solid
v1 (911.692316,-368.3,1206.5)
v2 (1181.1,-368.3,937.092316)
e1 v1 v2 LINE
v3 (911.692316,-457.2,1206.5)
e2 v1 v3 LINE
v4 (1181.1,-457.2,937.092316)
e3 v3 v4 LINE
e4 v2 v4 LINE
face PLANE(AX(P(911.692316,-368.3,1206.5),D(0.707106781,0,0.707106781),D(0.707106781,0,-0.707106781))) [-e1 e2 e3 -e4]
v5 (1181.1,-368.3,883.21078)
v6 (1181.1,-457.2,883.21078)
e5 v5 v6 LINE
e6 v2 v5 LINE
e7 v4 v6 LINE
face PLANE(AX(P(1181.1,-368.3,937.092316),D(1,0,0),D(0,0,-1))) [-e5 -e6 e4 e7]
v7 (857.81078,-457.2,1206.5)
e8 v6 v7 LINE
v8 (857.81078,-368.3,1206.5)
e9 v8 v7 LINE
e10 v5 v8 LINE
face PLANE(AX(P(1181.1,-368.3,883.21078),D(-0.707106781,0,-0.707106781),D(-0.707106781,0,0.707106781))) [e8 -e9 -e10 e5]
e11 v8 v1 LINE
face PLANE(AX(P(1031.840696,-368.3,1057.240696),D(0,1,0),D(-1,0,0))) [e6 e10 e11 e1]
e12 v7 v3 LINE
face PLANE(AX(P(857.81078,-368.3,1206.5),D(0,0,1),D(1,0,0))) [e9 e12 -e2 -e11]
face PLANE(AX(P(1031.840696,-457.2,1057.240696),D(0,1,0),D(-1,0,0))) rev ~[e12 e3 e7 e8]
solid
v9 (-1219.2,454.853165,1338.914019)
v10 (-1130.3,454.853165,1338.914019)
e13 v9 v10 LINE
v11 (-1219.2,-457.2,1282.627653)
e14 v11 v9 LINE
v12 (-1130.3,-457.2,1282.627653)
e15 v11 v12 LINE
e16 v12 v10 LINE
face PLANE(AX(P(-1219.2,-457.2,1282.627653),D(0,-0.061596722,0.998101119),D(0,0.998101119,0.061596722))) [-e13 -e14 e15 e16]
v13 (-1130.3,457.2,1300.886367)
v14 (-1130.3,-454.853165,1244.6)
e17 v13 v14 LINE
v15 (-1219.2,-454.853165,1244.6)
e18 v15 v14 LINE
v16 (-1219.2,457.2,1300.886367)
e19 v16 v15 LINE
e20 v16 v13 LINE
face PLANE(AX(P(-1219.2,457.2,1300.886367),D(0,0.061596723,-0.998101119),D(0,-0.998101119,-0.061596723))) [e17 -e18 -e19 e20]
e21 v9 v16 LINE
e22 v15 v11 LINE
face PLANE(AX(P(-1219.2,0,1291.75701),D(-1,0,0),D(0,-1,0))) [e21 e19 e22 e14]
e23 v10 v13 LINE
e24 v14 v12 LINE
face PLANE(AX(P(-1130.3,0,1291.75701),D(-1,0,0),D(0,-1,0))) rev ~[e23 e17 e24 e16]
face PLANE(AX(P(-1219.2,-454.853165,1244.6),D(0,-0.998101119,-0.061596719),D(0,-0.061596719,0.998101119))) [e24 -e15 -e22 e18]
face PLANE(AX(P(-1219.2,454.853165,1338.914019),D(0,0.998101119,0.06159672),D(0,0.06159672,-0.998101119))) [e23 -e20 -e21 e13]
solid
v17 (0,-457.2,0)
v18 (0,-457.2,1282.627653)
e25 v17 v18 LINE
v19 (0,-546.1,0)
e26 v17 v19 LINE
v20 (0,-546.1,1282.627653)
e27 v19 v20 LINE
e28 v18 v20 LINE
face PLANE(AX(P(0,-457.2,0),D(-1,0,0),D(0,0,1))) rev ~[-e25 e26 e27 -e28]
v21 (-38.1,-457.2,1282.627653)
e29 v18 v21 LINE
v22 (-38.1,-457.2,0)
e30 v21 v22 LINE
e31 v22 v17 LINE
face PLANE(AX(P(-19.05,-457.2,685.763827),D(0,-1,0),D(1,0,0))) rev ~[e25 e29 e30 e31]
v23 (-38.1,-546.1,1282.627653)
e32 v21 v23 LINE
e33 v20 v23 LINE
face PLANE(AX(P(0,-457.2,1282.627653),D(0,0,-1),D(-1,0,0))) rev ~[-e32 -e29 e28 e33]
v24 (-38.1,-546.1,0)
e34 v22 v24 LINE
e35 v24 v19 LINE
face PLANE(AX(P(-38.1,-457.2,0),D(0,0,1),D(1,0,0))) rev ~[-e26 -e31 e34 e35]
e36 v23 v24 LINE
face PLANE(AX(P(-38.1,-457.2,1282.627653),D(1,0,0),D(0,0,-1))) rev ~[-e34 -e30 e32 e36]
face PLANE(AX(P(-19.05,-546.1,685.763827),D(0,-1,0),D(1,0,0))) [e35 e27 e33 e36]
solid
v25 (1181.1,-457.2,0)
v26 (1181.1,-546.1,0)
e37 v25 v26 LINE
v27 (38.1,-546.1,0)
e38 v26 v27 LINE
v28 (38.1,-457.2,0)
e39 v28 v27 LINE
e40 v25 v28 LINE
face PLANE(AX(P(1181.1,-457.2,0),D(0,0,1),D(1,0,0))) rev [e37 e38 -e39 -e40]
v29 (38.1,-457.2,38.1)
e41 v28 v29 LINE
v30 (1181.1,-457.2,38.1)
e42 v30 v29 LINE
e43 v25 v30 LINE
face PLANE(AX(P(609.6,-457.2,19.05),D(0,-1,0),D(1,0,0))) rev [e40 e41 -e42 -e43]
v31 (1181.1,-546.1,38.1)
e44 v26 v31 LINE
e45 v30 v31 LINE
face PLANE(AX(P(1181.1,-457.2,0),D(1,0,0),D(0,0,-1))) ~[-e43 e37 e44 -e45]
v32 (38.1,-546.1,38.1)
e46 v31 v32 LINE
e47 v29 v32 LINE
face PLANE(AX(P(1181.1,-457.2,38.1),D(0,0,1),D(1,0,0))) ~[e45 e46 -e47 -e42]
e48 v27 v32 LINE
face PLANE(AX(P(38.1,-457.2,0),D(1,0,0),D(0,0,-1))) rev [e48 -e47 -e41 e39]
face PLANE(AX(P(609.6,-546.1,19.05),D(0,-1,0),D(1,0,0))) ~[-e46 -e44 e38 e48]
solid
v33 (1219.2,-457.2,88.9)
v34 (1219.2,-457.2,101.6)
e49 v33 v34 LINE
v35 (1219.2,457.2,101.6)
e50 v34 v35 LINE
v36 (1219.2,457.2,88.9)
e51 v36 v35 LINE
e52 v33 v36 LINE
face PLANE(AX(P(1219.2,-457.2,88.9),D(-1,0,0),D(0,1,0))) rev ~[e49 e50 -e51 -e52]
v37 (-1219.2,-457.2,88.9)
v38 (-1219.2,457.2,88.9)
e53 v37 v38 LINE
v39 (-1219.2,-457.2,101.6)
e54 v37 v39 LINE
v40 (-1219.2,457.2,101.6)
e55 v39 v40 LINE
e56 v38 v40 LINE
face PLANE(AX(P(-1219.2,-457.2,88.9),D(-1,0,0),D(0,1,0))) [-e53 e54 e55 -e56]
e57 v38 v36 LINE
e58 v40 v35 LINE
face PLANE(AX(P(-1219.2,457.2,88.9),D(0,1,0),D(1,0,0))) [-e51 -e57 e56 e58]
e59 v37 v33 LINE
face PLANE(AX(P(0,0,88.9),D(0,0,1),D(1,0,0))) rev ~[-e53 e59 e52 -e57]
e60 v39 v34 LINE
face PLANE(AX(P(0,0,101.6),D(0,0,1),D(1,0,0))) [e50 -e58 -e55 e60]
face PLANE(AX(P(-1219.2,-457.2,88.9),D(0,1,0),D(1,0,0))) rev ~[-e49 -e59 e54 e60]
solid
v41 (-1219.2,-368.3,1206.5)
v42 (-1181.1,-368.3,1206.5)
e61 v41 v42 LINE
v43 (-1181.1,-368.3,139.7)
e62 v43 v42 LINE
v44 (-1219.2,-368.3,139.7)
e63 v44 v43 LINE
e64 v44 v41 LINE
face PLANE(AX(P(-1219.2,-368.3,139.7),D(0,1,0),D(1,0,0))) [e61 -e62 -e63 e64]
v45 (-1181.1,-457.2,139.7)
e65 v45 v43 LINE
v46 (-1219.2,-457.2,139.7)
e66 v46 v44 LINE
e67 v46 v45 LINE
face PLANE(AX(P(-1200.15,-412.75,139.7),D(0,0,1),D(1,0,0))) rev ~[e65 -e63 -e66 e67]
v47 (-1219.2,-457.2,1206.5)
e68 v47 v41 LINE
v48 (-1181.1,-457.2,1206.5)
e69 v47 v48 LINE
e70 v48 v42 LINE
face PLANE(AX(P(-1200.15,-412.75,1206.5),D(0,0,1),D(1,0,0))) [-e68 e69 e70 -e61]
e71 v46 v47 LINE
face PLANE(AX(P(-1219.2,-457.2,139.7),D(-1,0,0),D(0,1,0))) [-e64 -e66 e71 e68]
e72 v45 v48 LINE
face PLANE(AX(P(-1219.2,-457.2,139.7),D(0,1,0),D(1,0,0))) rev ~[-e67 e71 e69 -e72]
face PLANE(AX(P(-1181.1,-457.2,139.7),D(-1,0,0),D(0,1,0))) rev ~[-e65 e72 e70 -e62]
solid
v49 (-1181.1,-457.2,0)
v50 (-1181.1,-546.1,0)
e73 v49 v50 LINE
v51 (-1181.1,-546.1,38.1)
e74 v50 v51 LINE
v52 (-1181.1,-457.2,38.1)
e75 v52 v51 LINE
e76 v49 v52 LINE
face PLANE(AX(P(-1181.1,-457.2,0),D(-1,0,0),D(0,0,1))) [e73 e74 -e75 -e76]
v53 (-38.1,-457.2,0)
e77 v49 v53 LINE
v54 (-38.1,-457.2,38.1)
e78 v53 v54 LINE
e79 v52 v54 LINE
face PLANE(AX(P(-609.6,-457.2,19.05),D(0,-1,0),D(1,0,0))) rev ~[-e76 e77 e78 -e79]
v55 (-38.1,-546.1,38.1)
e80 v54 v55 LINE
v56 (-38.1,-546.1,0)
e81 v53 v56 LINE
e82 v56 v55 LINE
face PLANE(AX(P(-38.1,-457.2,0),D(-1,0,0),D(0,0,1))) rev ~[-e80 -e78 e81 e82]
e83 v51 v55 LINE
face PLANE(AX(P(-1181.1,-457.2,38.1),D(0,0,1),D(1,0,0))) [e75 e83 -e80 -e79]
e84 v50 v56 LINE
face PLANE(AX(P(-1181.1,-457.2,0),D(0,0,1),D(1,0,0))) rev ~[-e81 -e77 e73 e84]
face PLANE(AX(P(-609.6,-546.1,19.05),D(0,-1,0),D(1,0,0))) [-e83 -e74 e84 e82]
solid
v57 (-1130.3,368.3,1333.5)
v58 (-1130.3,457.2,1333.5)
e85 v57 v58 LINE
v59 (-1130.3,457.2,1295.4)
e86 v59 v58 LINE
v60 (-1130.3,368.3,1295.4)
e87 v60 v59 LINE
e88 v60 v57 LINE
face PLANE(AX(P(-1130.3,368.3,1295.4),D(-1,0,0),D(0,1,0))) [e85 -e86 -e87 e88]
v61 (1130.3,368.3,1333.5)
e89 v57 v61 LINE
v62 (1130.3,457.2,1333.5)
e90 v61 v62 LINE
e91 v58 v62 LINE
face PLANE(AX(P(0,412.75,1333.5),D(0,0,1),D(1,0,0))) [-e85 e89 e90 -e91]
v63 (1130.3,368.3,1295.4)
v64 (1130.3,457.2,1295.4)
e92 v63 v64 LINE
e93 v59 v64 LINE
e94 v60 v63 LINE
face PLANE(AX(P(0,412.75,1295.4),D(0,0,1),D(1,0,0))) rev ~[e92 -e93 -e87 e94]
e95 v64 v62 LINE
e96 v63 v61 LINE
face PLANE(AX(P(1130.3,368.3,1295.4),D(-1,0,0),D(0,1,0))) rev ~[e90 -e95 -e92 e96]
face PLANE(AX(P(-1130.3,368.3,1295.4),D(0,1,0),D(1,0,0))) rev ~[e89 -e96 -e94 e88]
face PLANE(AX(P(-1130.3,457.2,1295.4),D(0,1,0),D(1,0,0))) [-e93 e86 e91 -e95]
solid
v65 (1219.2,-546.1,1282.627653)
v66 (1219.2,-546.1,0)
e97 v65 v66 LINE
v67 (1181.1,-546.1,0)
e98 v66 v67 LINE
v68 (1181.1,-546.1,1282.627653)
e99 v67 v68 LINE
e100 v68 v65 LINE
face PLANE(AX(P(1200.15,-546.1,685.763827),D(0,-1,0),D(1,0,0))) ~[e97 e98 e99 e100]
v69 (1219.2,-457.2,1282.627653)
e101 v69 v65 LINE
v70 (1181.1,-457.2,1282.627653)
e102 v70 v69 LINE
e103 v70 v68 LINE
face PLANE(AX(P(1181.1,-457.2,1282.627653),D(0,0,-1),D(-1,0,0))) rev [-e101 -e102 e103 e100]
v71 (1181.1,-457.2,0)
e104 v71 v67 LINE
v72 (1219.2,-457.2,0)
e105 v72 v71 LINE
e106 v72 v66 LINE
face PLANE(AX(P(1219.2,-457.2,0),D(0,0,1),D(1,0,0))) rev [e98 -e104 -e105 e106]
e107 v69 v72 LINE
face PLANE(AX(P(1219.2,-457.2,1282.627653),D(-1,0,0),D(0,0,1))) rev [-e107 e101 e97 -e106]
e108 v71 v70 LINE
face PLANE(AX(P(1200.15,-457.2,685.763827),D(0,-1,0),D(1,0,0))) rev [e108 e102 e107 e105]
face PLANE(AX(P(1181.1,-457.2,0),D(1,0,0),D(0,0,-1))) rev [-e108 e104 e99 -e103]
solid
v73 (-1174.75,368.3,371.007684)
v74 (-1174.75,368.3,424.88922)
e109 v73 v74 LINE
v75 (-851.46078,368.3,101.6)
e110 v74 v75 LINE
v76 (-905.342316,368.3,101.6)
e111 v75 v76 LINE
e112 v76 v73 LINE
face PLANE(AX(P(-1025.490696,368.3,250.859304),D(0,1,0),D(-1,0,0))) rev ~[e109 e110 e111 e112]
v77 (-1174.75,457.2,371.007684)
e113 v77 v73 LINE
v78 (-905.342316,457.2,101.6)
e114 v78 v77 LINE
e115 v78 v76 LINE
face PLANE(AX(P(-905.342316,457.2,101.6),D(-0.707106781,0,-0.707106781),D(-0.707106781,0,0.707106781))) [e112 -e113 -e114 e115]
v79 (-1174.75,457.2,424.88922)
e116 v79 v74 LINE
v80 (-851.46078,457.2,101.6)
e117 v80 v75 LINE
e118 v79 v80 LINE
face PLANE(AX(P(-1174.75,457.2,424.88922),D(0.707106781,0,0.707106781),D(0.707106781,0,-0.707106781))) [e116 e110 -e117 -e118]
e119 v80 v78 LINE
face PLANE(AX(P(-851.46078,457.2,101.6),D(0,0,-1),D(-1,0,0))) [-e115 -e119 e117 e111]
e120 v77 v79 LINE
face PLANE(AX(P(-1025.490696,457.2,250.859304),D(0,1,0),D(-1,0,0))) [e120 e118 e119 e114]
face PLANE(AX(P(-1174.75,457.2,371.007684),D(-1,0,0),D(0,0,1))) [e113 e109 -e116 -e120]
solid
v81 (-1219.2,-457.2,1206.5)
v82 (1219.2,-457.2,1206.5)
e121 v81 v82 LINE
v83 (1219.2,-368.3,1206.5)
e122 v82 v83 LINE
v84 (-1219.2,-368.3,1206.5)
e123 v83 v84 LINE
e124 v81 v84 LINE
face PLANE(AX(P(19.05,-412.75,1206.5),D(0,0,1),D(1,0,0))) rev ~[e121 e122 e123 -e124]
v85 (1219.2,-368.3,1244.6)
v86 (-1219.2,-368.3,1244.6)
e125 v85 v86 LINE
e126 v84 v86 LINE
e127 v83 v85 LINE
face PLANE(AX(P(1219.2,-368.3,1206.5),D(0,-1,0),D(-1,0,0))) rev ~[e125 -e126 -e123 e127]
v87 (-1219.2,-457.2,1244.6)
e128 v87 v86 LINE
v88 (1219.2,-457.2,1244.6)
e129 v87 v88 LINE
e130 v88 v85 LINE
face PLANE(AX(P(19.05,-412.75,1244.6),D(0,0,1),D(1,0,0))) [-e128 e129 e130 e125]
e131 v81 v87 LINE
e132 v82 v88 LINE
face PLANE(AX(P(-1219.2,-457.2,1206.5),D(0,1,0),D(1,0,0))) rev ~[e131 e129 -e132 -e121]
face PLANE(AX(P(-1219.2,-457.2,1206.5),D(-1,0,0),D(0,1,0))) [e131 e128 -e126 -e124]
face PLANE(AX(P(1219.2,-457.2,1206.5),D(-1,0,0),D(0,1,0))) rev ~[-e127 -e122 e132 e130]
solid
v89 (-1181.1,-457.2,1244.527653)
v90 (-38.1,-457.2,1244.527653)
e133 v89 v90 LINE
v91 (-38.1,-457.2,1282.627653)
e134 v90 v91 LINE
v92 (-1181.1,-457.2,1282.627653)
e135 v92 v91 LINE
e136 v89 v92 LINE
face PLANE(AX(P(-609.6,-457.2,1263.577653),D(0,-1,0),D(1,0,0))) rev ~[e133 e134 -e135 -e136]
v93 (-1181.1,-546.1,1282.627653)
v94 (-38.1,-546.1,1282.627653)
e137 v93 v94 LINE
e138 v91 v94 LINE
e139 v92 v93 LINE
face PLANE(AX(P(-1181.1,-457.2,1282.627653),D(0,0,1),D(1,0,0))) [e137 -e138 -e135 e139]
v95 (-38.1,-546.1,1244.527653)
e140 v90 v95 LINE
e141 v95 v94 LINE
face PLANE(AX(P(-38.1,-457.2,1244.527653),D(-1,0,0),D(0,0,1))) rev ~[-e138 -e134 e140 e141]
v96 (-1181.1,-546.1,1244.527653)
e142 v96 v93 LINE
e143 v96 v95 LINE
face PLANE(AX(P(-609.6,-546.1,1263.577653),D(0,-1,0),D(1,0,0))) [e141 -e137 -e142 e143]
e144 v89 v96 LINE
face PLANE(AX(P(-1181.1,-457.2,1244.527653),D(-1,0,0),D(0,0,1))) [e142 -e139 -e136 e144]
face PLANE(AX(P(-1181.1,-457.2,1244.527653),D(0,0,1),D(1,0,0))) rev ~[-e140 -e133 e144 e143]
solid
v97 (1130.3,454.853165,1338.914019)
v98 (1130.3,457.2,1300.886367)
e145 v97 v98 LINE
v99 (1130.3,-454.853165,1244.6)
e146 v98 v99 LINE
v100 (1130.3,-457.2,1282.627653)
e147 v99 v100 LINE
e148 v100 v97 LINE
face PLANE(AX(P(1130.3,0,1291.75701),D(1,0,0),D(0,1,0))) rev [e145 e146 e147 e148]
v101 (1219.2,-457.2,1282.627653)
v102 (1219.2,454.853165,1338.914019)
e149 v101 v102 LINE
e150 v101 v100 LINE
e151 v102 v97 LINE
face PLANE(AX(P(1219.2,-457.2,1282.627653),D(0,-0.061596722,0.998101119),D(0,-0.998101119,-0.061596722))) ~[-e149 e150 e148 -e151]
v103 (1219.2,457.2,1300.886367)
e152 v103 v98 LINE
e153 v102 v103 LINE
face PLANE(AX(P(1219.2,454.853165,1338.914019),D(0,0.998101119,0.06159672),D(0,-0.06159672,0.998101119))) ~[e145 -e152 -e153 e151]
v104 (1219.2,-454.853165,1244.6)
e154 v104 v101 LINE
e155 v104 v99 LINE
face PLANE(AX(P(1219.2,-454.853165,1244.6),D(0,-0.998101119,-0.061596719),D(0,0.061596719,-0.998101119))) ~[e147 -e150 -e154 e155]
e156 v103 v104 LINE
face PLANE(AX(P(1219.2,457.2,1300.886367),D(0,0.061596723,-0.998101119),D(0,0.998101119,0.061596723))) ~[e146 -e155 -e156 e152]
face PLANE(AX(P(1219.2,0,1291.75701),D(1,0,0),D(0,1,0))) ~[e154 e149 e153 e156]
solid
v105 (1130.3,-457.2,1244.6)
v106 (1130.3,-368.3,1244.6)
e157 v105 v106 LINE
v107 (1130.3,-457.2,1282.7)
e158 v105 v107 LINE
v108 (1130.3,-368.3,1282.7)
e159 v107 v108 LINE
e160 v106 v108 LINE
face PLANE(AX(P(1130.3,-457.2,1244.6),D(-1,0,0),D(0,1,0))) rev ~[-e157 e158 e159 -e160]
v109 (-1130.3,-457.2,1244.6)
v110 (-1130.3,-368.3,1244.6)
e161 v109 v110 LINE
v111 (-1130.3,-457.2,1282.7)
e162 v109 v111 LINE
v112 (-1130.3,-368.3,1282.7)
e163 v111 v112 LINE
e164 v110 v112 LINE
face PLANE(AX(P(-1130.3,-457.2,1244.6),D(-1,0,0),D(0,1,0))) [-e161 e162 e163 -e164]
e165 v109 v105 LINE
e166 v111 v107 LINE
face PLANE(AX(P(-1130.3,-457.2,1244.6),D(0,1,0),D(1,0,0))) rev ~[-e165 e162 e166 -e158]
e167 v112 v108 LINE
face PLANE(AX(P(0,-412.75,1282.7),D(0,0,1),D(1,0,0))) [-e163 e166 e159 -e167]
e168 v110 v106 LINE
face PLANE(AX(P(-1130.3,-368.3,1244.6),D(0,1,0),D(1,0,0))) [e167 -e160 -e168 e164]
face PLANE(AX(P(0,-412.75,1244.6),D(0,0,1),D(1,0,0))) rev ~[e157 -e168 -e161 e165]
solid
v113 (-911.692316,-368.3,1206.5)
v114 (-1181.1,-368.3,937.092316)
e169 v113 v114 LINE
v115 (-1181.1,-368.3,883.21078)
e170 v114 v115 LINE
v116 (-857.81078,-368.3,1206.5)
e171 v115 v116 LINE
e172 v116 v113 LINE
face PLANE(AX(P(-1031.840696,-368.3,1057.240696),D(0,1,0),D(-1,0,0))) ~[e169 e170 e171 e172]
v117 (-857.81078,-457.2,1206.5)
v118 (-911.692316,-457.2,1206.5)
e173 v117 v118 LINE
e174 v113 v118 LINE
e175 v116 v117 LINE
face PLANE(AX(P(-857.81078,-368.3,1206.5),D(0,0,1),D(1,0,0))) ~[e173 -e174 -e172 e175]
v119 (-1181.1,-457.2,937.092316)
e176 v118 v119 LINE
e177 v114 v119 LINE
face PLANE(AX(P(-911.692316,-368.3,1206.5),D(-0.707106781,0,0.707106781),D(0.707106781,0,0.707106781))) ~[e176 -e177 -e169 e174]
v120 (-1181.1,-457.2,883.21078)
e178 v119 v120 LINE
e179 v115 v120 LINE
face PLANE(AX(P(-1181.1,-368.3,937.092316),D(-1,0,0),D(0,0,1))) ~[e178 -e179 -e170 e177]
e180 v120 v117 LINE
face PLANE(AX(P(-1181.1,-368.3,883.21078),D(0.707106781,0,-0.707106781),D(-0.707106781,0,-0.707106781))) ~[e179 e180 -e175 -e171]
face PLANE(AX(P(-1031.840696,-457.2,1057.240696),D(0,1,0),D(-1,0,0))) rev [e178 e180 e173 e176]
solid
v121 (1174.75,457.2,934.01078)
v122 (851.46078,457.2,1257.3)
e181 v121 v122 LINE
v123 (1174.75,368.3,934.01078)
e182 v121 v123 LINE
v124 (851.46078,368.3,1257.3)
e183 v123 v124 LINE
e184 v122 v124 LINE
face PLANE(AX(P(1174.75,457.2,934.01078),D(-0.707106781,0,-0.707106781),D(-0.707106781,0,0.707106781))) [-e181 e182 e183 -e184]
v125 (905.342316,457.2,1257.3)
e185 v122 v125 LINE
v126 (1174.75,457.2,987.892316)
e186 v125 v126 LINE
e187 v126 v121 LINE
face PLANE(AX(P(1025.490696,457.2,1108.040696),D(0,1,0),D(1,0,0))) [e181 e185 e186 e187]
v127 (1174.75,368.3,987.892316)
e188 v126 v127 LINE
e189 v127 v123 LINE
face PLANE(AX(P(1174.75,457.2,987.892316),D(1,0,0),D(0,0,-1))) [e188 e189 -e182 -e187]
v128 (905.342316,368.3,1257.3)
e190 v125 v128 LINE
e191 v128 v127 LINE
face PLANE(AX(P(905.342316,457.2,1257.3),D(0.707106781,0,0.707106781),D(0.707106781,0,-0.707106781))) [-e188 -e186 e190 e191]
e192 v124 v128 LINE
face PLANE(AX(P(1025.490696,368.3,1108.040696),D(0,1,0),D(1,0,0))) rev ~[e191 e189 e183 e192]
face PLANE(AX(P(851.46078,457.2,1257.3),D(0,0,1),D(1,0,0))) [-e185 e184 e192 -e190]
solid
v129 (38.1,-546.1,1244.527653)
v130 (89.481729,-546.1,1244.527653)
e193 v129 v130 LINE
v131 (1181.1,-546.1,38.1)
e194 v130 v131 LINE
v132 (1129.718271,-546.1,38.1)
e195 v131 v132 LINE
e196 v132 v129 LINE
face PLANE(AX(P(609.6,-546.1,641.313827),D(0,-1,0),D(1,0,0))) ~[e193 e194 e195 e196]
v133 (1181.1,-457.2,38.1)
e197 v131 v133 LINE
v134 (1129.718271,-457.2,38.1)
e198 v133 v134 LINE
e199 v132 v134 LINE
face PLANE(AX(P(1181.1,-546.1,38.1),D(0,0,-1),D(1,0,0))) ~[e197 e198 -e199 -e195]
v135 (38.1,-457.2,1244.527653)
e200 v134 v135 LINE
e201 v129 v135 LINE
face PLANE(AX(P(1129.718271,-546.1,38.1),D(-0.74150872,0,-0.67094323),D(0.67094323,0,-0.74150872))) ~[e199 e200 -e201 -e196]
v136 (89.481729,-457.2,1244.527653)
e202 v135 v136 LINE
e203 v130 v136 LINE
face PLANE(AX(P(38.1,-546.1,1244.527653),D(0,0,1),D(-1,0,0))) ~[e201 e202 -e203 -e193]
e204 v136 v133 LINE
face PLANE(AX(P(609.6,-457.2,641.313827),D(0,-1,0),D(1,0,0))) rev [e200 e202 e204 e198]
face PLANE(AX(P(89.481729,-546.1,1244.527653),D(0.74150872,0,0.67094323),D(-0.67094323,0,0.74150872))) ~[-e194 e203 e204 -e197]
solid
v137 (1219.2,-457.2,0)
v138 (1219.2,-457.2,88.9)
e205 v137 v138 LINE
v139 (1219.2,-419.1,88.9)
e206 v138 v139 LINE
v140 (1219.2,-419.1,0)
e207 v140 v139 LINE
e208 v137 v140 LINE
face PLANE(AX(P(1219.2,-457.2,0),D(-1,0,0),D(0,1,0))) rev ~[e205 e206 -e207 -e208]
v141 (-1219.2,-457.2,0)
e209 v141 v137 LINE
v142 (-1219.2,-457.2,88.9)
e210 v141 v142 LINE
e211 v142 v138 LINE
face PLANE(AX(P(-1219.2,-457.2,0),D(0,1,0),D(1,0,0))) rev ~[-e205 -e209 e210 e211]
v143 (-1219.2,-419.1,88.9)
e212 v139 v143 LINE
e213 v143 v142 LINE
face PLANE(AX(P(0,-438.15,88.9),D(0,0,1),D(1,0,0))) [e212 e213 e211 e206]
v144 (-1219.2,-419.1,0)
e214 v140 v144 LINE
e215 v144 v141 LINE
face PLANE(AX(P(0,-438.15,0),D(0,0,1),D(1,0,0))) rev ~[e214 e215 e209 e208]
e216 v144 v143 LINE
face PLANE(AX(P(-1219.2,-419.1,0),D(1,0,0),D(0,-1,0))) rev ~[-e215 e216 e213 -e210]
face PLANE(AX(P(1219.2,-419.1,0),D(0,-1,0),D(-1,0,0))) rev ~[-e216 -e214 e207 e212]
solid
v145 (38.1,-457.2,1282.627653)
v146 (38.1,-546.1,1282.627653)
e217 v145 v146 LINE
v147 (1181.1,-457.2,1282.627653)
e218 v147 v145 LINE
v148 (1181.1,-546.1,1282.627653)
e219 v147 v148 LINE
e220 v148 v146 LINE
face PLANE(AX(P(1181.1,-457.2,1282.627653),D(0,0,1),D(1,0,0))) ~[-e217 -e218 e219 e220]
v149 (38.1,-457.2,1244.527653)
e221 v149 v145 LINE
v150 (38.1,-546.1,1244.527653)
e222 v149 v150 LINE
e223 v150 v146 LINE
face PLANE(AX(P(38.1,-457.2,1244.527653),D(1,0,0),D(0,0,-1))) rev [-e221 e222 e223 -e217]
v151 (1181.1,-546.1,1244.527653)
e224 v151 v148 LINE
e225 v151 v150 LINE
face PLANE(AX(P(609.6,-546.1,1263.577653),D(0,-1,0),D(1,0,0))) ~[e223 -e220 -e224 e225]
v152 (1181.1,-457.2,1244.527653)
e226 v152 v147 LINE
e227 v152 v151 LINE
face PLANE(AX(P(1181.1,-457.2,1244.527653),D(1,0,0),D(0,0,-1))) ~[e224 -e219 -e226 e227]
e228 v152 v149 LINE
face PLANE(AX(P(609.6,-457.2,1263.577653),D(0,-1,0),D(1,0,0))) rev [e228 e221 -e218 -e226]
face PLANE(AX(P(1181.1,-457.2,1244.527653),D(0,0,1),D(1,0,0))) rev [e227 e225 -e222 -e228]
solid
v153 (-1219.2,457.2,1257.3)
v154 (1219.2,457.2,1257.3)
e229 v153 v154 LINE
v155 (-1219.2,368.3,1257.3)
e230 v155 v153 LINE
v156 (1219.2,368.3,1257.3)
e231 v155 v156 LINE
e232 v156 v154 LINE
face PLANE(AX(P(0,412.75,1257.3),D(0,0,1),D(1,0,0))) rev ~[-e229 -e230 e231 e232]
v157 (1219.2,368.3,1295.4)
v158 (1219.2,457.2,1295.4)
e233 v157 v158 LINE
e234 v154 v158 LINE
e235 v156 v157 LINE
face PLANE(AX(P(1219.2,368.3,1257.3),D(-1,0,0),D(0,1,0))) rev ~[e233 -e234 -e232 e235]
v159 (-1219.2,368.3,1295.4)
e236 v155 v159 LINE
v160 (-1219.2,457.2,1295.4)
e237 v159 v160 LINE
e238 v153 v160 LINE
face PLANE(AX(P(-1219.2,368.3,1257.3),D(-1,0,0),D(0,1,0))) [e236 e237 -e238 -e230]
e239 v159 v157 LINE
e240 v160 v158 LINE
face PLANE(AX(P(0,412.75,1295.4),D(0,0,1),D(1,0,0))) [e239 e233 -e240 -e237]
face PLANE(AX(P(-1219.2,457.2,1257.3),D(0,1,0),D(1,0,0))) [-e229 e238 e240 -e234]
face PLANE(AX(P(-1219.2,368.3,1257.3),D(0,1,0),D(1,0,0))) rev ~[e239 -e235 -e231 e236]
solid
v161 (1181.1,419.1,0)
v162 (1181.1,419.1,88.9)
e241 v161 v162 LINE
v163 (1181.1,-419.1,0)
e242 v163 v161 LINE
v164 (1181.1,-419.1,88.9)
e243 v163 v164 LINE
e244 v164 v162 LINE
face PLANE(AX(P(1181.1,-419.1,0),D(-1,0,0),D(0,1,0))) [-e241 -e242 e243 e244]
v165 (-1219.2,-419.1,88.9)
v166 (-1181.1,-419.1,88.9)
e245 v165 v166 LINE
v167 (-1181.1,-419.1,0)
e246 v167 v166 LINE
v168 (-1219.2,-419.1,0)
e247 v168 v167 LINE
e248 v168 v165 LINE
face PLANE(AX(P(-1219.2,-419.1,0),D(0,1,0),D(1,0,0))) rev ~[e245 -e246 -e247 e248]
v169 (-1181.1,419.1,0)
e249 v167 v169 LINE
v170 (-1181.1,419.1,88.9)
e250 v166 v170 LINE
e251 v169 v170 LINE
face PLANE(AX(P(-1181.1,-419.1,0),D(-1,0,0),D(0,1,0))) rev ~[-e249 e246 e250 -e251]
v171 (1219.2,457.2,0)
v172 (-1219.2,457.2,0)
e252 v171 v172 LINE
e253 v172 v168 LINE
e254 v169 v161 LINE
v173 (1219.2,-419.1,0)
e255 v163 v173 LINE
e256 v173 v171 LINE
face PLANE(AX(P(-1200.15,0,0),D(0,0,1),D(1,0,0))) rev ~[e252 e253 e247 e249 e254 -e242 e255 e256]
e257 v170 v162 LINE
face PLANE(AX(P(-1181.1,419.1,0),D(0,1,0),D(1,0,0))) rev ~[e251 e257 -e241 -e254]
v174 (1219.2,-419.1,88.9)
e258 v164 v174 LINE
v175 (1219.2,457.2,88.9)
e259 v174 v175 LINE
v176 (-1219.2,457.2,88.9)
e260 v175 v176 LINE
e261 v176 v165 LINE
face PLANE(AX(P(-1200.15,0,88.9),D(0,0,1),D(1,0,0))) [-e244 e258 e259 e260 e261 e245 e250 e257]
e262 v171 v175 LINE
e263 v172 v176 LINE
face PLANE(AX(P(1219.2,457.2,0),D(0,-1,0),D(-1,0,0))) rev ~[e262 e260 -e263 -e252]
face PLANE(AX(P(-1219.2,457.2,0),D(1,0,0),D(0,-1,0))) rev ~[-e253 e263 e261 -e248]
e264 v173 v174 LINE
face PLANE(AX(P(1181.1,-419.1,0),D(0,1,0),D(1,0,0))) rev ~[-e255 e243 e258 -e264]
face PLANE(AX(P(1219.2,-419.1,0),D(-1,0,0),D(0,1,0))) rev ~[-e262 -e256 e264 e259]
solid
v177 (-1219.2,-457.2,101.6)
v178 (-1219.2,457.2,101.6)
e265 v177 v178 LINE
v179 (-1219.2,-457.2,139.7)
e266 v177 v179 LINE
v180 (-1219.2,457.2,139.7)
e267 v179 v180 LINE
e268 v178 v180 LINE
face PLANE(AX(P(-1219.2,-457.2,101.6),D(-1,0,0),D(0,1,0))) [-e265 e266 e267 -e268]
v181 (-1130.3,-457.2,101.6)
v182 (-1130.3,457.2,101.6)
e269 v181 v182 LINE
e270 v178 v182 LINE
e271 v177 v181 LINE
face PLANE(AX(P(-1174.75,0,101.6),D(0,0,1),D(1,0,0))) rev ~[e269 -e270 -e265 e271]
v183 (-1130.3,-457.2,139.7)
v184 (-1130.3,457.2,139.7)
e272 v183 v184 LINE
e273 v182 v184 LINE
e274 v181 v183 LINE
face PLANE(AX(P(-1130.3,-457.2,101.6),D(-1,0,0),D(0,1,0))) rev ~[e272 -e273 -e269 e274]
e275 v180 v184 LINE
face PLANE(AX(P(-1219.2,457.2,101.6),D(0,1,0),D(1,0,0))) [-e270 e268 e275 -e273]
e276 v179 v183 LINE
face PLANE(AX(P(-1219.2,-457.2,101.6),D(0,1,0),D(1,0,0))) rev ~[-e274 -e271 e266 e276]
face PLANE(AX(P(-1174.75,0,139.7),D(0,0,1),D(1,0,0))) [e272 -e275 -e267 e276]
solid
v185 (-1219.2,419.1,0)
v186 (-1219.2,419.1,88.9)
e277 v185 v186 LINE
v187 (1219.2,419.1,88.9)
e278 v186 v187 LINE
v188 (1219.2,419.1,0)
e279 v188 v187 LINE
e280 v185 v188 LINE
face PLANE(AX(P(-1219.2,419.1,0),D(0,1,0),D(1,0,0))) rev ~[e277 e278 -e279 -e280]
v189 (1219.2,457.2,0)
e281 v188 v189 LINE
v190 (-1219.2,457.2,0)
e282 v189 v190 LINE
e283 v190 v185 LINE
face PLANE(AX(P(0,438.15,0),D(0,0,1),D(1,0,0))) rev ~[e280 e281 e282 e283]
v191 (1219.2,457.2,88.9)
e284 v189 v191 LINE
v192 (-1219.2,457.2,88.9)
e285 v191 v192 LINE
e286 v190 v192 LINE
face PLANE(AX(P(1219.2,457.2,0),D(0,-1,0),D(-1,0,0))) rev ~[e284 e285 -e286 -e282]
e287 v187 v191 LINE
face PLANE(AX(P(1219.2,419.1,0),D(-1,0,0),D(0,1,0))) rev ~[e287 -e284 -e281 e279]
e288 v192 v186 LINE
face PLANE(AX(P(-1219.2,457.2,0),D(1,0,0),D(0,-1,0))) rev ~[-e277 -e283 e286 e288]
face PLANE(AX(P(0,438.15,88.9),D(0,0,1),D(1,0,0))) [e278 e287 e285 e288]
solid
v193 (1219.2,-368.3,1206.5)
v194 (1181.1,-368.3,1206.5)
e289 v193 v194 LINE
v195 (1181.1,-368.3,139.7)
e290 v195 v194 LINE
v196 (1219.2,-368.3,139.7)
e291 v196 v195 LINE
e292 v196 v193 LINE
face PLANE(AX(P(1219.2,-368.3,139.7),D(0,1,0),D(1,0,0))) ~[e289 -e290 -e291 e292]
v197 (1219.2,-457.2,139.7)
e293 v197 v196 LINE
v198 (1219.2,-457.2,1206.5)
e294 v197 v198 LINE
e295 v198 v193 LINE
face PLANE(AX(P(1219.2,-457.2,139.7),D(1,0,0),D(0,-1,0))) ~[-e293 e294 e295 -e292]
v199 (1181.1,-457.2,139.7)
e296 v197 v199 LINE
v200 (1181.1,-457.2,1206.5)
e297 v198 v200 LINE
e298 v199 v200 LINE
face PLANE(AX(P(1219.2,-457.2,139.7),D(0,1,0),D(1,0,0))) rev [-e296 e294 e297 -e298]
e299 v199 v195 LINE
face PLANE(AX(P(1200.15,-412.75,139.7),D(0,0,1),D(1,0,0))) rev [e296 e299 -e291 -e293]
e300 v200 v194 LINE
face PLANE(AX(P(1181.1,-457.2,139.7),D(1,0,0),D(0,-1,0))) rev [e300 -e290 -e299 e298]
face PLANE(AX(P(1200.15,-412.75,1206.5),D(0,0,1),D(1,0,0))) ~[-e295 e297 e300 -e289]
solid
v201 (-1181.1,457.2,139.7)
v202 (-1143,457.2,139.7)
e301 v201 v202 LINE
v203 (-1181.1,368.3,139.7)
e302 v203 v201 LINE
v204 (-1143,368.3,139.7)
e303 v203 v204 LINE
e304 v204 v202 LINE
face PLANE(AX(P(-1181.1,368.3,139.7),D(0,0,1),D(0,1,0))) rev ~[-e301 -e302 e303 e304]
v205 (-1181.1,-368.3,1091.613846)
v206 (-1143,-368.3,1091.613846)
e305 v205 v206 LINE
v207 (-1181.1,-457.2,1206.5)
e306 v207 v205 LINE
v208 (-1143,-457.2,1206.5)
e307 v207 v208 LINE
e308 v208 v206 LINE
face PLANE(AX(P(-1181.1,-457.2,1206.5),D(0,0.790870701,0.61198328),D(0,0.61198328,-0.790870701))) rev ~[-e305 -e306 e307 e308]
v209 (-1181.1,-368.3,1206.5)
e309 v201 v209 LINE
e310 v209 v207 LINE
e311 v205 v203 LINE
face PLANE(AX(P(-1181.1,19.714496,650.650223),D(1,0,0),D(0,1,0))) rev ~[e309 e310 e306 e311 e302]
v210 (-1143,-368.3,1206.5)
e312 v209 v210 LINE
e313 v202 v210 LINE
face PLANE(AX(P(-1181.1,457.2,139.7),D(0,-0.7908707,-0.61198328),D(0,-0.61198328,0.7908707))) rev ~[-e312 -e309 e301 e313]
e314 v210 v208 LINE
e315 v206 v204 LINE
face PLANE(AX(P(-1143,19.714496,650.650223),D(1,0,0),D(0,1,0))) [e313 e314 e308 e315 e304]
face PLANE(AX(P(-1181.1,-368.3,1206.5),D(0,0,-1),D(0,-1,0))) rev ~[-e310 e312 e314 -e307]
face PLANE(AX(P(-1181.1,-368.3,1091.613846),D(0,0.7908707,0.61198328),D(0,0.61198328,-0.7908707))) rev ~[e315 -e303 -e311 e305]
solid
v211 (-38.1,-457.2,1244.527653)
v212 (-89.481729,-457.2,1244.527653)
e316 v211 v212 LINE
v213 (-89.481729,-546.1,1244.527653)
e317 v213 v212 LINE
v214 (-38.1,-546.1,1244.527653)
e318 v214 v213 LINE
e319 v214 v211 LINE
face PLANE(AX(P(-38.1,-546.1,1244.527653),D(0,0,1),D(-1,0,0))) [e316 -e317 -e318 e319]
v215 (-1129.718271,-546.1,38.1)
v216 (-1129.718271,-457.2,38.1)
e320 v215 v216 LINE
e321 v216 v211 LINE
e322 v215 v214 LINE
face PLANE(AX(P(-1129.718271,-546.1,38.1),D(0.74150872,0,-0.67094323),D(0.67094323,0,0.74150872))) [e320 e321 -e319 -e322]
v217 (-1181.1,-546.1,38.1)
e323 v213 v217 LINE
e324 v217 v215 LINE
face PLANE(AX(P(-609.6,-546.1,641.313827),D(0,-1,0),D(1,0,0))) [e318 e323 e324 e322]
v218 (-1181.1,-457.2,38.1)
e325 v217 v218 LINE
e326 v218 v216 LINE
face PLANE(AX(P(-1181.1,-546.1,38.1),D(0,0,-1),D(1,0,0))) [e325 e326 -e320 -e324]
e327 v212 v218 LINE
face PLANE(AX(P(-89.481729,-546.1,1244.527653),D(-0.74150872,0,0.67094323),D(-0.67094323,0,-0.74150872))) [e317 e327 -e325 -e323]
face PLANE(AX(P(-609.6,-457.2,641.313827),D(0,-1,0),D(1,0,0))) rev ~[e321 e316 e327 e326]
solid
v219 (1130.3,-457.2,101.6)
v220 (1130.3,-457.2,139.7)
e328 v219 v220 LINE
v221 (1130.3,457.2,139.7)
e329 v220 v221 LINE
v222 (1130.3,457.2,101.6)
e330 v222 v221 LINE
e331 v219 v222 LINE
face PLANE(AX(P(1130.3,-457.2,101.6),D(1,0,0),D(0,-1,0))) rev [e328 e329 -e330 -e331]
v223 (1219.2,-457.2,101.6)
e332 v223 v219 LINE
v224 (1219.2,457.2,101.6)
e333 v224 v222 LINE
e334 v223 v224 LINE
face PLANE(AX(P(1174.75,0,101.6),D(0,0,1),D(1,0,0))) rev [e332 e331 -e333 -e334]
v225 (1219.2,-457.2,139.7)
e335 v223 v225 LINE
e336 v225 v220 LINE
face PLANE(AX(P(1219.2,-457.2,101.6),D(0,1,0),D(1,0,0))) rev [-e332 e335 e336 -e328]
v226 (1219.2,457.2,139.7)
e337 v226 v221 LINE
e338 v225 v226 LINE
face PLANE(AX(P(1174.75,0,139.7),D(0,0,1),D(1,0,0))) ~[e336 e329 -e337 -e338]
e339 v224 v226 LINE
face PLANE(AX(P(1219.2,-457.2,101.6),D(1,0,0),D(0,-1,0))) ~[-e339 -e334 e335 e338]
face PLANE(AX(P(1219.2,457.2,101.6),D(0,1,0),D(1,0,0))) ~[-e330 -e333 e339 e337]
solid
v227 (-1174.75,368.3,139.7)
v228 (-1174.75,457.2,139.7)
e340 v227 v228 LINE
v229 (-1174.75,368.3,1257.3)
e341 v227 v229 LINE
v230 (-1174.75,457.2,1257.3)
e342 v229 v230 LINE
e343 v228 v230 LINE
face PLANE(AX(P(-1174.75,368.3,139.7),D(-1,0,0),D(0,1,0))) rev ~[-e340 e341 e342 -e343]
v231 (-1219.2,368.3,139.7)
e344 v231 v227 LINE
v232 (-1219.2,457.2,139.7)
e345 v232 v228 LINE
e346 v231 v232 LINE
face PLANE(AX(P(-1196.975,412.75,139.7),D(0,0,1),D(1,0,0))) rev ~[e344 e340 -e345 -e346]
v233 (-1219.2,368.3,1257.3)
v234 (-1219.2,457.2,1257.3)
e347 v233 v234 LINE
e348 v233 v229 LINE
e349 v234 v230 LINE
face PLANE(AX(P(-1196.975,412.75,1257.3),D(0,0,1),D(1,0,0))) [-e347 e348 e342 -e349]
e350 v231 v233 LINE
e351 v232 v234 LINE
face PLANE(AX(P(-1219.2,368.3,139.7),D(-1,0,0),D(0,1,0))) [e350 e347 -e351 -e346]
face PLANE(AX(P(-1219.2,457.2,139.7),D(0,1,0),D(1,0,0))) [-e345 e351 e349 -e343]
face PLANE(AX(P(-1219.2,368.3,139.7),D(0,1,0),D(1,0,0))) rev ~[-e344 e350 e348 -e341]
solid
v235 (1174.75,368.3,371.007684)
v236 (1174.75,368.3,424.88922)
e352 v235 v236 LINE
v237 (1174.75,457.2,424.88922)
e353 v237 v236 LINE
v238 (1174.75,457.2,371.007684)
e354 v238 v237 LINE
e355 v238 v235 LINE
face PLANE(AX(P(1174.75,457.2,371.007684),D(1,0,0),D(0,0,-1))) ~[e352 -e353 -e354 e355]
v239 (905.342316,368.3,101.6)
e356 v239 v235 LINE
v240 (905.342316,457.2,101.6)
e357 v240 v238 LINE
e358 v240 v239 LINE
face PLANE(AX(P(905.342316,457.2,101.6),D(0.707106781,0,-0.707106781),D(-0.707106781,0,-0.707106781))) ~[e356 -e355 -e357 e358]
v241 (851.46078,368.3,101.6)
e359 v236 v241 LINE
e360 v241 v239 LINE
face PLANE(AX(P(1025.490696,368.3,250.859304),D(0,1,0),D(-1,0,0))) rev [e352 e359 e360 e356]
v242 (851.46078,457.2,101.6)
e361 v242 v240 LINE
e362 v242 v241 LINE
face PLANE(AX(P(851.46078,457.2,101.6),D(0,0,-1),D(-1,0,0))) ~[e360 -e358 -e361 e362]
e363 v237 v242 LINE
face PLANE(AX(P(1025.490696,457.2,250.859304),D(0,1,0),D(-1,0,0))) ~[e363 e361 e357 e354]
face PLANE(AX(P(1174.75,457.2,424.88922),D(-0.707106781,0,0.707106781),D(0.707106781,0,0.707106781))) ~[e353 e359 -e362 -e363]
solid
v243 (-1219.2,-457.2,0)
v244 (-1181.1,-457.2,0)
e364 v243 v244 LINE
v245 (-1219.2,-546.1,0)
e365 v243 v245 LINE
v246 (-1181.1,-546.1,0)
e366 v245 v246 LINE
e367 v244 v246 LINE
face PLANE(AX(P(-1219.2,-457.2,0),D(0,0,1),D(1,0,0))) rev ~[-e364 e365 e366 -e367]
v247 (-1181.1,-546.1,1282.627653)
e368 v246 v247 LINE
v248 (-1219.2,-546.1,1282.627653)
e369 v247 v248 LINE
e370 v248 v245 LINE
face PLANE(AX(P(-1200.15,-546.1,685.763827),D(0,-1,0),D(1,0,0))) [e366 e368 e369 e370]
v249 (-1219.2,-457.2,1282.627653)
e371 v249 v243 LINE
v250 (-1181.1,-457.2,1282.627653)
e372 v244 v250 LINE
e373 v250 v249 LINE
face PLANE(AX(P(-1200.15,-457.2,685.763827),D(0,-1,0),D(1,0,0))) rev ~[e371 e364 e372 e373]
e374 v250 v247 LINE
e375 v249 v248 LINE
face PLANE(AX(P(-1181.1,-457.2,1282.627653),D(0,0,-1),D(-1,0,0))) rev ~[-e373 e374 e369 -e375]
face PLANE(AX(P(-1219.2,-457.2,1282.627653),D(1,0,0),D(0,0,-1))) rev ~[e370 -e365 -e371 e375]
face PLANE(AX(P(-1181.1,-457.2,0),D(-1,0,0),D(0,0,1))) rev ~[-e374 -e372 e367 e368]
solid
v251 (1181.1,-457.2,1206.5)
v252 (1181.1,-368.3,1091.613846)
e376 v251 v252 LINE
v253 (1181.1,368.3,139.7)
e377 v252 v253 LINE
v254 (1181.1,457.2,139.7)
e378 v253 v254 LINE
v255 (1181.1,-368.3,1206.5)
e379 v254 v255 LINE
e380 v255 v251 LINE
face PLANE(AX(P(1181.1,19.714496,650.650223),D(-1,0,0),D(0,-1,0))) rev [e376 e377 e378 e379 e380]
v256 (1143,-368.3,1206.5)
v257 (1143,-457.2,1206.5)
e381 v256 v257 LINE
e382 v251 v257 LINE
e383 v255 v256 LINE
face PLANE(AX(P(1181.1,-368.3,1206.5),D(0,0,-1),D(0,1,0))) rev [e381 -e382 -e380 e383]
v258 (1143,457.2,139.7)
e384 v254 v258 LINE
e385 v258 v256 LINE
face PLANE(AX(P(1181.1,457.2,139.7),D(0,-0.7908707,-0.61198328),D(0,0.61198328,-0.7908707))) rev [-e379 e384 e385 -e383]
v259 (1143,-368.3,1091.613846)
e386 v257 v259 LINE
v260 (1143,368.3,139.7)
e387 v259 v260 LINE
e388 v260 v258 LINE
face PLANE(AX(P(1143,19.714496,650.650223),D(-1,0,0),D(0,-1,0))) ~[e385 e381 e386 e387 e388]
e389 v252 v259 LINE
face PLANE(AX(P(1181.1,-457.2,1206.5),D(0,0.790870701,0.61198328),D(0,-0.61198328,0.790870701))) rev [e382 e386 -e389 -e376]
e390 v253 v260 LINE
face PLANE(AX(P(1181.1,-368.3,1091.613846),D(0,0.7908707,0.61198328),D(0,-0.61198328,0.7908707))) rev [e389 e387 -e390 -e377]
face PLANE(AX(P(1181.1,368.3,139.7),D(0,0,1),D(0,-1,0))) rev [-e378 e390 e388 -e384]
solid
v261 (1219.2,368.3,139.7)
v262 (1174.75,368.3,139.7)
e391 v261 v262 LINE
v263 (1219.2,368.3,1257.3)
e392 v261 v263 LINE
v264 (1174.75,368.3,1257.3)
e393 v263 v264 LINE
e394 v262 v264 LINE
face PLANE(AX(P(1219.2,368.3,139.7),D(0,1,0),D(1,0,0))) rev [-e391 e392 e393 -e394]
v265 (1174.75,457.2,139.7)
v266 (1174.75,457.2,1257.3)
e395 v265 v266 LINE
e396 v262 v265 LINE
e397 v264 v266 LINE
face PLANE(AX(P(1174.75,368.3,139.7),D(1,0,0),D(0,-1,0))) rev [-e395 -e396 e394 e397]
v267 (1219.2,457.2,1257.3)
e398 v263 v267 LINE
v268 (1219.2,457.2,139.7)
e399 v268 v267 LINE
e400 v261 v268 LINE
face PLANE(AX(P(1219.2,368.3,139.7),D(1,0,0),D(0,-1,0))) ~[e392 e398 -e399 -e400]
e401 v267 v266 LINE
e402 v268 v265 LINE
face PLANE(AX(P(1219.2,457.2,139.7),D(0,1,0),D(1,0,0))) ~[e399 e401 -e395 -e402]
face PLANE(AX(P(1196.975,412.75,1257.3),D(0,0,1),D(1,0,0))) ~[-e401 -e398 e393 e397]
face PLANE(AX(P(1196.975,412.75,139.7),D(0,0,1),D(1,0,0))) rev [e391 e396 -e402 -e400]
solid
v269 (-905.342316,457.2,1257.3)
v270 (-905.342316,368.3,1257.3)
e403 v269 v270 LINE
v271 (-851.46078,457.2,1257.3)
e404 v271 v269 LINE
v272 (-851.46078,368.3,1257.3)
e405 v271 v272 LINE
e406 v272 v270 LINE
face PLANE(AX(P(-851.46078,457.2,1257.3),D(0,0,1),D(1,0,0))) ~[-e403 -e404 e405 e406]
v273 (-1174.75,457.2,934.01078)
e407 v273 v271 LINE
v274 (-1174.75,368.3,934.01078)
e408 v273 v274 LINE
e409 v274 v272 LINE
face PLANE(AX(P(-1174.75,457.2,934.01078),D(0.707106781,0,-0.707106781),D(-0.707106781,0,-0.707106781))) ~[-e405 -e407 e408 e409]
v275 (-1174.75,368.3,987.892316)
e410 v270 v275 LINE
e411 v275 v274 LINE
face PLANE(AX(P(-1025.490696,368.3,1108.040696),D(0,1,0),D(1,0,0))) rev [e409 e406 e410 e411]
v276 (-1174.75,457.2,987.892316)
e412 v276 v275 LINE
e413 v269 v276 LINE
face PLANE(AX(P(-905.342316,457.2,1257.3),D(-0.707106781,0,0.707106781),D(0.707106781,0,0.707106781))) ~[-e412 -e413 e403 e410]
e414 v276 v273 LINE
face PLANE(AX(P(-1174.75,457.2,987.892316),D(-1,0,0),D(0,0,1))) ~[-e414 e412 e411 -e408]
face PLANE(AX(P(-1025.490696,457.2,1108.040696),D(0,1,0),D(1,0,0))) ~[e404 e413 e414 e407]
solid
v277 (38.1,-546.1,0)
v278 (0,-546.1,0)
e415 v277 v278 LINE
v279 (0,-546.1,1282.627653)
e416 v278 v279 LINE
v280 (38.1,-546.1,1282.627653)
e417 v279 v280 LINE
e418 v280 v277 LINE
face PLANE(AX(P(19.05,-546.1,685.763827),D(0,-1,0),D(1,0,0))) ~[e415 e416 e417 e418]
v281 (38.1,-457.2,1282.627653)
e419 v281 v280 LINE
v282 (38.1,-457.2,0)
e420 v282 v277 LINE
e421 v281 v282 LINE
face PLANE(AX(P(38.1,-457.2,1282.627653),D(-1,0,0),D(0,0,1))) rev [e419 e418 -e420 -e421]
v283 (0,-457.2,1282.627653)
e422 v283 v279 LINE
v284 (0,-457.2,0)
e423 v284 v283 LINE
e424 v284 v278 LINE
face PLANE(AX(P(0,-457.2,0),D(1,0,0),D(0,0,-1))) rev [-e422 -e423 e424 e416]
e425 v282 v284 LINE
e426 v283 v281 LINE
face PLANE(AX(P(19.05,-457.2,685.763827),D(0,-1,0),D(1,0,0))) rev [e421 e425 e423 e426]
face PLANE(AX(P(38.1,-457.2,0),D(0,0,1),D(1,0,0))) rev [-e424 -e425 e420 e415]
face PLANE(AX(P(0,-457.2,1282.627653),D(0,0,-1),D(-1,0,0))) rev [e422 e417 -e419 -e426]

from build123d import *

# Parameters (mm, degrees)
F1_DEPTH  = 88.9
F0_W      = 38.1
F0_H      = 838.2
F2_DEPTH  = 88.9
F3_W      = 2438.4
F3_H      = 914.4
F4_DEPTH  = 12.7
F5_W      = 88.9
F5_H      = 914.4
F6_DEPTH  = 38.1
F7_W      = 38.1
F7_H      = 88.9
F8_DEPTH  = 1066.8
F9_W      = 44.45
F9_H      = 88.9
F10_DEPTH = 1117.6
F12_W     = 2400.3
F12_H     = 88.9
F12_W_2   = 38.1
F13_DEPTH = 38.1
F15_W     = 2438.4
F15_H     = 88.9
F16_DEPTH = 38.1
F18_DEPTH = 88.9
F21_DEPTH = 88.9
F20_W     = 1143
F20_H     = 38.1
F22_DEPTH = 88.9
F24_DEPTH = 88.9
F27_DEPTH = 38.1
F29_DEPTH = 88.9
F33_W     = 2260.6
F33_H     = 88.9
F34_DEPTH = 38.1
F35_W     = 2260.6
F35_H     = 88.9
F36_DEPTH = 38.1
F38_DEPTH = 88.9


with BuildPart() as f1:
    # F0 (on Top) → F1 (new body)
    with BuildSketch(Plane.XY):
        Polygon((1219.2, 419.1), (1219.2, 457.2), (-1219.2, 457.2), (-1219.2, 419.1), (-1181.1, 419.1), (1181.1, 419.1), align=None)
        Polygon((1219.2, -457.2), (1219.2, -419.1), (1181.1, -419.1), (-1181.1, -419.1), (-1219.2, -419.1), (-1219.2, -457.2), align=None)
    extrude(amount=F1_DEPTH)


with BuildPart() as f2:
    # F0 (on Top) → F2 (new body, through all)
    with BuildSketch(Plane.XY):
        with Locations((-1200.15, 0)):
            Rectangle(F0_W, F0_H)
        with Locations((1200.15, 0)):
            Rectangle(F0_W, F0_H)
        Polygon((1219.2, 419.1), (1219.2, 457.2), (-1219.2, 457.2), (-1219.2, 419.1), (-1181.1, 419.1), (1181.1, 419.1), align=None)
    extrude(amount=F2_DEPTH)


with BuildPart() as f4:
    # F3 (on face) → F4 (new body)
    with BuildSketch(Plane.XY.offset(88.9)):
        Rectangle(F3_W, F3_H)
    extrude(amount=F4_DEPTH)


with BuildPart() as f6:
    # F5 (on face) → F6 (new body)
    with BuildSketch(Plane.XY.offset(101.6)):
        with Locations((-1174.75, 0)):
            Rectangle(F5_W, F5_H)
    extrude(amount=F6_DEPTH)


with BuildPart() as f8:
    # F7 (on face) → F8 (new body)
    with BuildSketch(Plane.XY.offset(139.7)):
        with Locations((-1200.15, -412.75)):
            Rectangle(F7_W, F7_H)
    extrude(amount=F8_DEPTH)


with BuildPart() as f10:
    # F9 (on face) → F10 (new body)
    with BuildSketch(Plane.XY.offset(139.7)):
        with Locations((-1196.975, 412.75)):
            Rectangle(F9_W, F9_H)
    extrude(amount=F10_DEPTH)


with BuildPart() as f11_1:
    # F11: instance of F10
    add(f10.part.mirror(Plane.YZ))


with BuildPart() as f11_2:
    # F11: instance of F8
    add(f8.part.mirror(Plane.YZ))


with BuildPart() as f13:
    # F12 (on face) → F13 (new body)
    with BuildSketch(Plane.XY.offset(1206.5)):
        with Locations((19.05, -412.75)):
            Rectangle(F12_W, F12_H)
        with Locations((-1200.15, -412.75)):
            Rectangle(F12_W_2, F12_H)
    extrude(amount=F13_DEPTH)


with BuildPart() as f16:
    # F15 (on face) → F16 (new body)
    with BuildSketch(Plane.XY.offset(1257.3)):
        with Locations((0, 412.75)):
            Rectangle(F15_W, F15_H)
    extrude(amount=F16_DEPTH)


with BuildPart() as f18:
    # F17 (on face) → F18 (new body)
    with BuildSketch(Plane(origin=(-1219.2, 0, 0), x_dir=(0, -1, 0), z_dir=(-1, 0, 0))):
        Polygon((-457.2, 1300.886367), (454.853165, 1244.6), (457.2, 1282.627653), (-454.853165, 1338.914019), align=None)
    extrude(amount=-F18_DEPTH)


with BuildPart() as f19_1:
    # F19: instance of F18
    add(f18.part.mirror(Plane.YZ))


with BuildPart() as f19_2:
    # F19: instance of F6
    add(f6.part.mirror(Plane.YZ))


with BuildPart() as f21:
    # F20 (on face) → F21 (new body)
    with BuildSketch(Plane.XZ.offset(457.2)):
        Polygon((-1219.2, 1282.627653), (-1219.2, 88.9), (-1181.1, 88.9), (-1181.1, 1244.527653), (-1181.1, 1282.627653), align=None)
        Polygon((-1219.2, 88.9), (-1219.2, 0), (-1181.1, 0), (-1181.1, 38.1), (-1181.1, 88.9), align=None)
        Polygon((-38.1, 1244.527653), (-38.1, 88.9), (0, 88.9), (0, 1282.627653), (-38.1, 1282.627653), align=None)
        Polygon((-38.1, 38.1), (-38.1, 0), (0, 0), (0, 88.9), (-38.1, 88.9), align=None)
    extrude(amount=F21_DEPTH)


with BuildPart() as f22:
    # F20 (on face) → F22 (new body, through all)
    with BuildSketch(Plane.XZ.offset(457.2)):
        with Locations((-609.6, 1263.577653)):
            Rectangle(F20_W, F20_H)
        with Locations((-609.6, 19.05)):
            Rectangle(F20_W, F20_H)
    extrude(amount=F22_DEPTH)


with BuildPart() as f24:
    # F23 (on face) → F24 (new body, through all)
    with BuildSketch(Plane.XZ.offset(546.1)):
        Polygon((-38.1, 1244.527653), (-89.481729, 1244.527653), (-1181.1, 38.1), (-1129.718271, 38.1), align=None)
    extrude(amount=-F24_DEPTH)


with BuildPart() as f25_1:
    # F25: instance of F21
    add(f21.part.mirror(Plane.YZ))


with BuildPart() as f25_2:
    # F25: instance of F22
    add(f22.part.mirror(Plane.YZ))


with BuildPart() as f25_3:
    # F25: instance of F24
    add(f24.part.mirror(Plane.YZ))


with BuildPart() as f27:
    # F26 (on face) → F27 (new body)
    with BuildSketch(Plane.YZ.offset(-1181.1)):
        Polygon((457.2, 139.7), (-368.3, 1206.5), (-368.3, 1091.613846), (368.3, 139.7), align=None)
        Polygon((-368.3, 1091.613846), (-368.3, 1206.5), (-457.2, 1206.5), align=None)
    extrude(amount=F27_DEPTH)


with BuildPart() as f29:
    # F28 (on face) → F29 (new body)
    with BuildSketch(Plane(origin=(0, 457.2, 0), x_dir=(-1, 0, 0), z_dir=(0, 1, 0))):
        Polygon((905.342316, 101.6), (1174.75, 371.007684), (1174.75, 424.88922), (851.46078, 101.6), align=None)
    extrude(amount=-F29_DEPTH)


with BuildPart() as f30_1:
    # F30: instance of F27
    add(f27.part.mirror(Plane.YZ))


with BuildPart() as f30_2:
    # F30: instance of F29
    add(f29.part.mirror(Plane.YZ))


with BuildPart() as f32_1:
    # F32: instance of F30_2
    add(f30_2.part.mirror(Plane(origin=(0, 206.375, 679.45), x_dir=(1, 0, 0), z_dir=(0, 0, -1))))


with BuildPart() as f32_2:
    # F32: instance of F29
    add(f29.part.mirror(Plane(origin=(0, 206.375, 679.45), x_dir=(1, 0, 0), z_dir=(0, 0, -1))))


with BuildPart() as f34:
    # F33 (on face) → F34 (new body)
    with BuildSketch(Plane.XY.offset(1295.4)):
        with Locations((0, 412.75)):
            Rectangle(F33_W, F33_H)
    extrude(amount=F34_DEPTH)


with BuildPart() as f36:
    # F35 (on face) → F36 (new body)
    with BuildSketch(Plane.XY.offset(1244.6)):
        with Locations((0, -412.75)):
            Rectangle(F35_W, F35_H)
    extrude(amount=F36_DEPTH)


with BuildPart() as f38:
    # F37 (on face) → F38 (new body)
    with BuildSketch(Plane(origin=(0, -368.3, 0), x_dir=(-1, 0, 0), z_dir=(0, 1, 0))):
        Polygon((-1181.1, 883.21078), (-857.81078, 1206.5), (-911.692316, 1206.5), (-1181.1, 937.092316), align=None)
    extrude(amount=-F38_DEPTH)


with BuildPart() as f39_1:
    # F39: instance of F38
    add(f38.part.mirror(Plane.YZ))


solid = Compound([f1.part, f2.part, f4.part, f6.part, f8.part, f10.part, f11_1.part, f11_2.part, f13.part, f16.part, f18.part, f19_1.part, f19_2.part, f21.part, f22.part, f24.part, f25_1.part, f25_2.part, f25_3.part, f27.part, f29.part, f30_1.part, f30_2.part, f32_1.part, f32_2.part, f34.part, f36.part, f38.part, f39_1.part])
